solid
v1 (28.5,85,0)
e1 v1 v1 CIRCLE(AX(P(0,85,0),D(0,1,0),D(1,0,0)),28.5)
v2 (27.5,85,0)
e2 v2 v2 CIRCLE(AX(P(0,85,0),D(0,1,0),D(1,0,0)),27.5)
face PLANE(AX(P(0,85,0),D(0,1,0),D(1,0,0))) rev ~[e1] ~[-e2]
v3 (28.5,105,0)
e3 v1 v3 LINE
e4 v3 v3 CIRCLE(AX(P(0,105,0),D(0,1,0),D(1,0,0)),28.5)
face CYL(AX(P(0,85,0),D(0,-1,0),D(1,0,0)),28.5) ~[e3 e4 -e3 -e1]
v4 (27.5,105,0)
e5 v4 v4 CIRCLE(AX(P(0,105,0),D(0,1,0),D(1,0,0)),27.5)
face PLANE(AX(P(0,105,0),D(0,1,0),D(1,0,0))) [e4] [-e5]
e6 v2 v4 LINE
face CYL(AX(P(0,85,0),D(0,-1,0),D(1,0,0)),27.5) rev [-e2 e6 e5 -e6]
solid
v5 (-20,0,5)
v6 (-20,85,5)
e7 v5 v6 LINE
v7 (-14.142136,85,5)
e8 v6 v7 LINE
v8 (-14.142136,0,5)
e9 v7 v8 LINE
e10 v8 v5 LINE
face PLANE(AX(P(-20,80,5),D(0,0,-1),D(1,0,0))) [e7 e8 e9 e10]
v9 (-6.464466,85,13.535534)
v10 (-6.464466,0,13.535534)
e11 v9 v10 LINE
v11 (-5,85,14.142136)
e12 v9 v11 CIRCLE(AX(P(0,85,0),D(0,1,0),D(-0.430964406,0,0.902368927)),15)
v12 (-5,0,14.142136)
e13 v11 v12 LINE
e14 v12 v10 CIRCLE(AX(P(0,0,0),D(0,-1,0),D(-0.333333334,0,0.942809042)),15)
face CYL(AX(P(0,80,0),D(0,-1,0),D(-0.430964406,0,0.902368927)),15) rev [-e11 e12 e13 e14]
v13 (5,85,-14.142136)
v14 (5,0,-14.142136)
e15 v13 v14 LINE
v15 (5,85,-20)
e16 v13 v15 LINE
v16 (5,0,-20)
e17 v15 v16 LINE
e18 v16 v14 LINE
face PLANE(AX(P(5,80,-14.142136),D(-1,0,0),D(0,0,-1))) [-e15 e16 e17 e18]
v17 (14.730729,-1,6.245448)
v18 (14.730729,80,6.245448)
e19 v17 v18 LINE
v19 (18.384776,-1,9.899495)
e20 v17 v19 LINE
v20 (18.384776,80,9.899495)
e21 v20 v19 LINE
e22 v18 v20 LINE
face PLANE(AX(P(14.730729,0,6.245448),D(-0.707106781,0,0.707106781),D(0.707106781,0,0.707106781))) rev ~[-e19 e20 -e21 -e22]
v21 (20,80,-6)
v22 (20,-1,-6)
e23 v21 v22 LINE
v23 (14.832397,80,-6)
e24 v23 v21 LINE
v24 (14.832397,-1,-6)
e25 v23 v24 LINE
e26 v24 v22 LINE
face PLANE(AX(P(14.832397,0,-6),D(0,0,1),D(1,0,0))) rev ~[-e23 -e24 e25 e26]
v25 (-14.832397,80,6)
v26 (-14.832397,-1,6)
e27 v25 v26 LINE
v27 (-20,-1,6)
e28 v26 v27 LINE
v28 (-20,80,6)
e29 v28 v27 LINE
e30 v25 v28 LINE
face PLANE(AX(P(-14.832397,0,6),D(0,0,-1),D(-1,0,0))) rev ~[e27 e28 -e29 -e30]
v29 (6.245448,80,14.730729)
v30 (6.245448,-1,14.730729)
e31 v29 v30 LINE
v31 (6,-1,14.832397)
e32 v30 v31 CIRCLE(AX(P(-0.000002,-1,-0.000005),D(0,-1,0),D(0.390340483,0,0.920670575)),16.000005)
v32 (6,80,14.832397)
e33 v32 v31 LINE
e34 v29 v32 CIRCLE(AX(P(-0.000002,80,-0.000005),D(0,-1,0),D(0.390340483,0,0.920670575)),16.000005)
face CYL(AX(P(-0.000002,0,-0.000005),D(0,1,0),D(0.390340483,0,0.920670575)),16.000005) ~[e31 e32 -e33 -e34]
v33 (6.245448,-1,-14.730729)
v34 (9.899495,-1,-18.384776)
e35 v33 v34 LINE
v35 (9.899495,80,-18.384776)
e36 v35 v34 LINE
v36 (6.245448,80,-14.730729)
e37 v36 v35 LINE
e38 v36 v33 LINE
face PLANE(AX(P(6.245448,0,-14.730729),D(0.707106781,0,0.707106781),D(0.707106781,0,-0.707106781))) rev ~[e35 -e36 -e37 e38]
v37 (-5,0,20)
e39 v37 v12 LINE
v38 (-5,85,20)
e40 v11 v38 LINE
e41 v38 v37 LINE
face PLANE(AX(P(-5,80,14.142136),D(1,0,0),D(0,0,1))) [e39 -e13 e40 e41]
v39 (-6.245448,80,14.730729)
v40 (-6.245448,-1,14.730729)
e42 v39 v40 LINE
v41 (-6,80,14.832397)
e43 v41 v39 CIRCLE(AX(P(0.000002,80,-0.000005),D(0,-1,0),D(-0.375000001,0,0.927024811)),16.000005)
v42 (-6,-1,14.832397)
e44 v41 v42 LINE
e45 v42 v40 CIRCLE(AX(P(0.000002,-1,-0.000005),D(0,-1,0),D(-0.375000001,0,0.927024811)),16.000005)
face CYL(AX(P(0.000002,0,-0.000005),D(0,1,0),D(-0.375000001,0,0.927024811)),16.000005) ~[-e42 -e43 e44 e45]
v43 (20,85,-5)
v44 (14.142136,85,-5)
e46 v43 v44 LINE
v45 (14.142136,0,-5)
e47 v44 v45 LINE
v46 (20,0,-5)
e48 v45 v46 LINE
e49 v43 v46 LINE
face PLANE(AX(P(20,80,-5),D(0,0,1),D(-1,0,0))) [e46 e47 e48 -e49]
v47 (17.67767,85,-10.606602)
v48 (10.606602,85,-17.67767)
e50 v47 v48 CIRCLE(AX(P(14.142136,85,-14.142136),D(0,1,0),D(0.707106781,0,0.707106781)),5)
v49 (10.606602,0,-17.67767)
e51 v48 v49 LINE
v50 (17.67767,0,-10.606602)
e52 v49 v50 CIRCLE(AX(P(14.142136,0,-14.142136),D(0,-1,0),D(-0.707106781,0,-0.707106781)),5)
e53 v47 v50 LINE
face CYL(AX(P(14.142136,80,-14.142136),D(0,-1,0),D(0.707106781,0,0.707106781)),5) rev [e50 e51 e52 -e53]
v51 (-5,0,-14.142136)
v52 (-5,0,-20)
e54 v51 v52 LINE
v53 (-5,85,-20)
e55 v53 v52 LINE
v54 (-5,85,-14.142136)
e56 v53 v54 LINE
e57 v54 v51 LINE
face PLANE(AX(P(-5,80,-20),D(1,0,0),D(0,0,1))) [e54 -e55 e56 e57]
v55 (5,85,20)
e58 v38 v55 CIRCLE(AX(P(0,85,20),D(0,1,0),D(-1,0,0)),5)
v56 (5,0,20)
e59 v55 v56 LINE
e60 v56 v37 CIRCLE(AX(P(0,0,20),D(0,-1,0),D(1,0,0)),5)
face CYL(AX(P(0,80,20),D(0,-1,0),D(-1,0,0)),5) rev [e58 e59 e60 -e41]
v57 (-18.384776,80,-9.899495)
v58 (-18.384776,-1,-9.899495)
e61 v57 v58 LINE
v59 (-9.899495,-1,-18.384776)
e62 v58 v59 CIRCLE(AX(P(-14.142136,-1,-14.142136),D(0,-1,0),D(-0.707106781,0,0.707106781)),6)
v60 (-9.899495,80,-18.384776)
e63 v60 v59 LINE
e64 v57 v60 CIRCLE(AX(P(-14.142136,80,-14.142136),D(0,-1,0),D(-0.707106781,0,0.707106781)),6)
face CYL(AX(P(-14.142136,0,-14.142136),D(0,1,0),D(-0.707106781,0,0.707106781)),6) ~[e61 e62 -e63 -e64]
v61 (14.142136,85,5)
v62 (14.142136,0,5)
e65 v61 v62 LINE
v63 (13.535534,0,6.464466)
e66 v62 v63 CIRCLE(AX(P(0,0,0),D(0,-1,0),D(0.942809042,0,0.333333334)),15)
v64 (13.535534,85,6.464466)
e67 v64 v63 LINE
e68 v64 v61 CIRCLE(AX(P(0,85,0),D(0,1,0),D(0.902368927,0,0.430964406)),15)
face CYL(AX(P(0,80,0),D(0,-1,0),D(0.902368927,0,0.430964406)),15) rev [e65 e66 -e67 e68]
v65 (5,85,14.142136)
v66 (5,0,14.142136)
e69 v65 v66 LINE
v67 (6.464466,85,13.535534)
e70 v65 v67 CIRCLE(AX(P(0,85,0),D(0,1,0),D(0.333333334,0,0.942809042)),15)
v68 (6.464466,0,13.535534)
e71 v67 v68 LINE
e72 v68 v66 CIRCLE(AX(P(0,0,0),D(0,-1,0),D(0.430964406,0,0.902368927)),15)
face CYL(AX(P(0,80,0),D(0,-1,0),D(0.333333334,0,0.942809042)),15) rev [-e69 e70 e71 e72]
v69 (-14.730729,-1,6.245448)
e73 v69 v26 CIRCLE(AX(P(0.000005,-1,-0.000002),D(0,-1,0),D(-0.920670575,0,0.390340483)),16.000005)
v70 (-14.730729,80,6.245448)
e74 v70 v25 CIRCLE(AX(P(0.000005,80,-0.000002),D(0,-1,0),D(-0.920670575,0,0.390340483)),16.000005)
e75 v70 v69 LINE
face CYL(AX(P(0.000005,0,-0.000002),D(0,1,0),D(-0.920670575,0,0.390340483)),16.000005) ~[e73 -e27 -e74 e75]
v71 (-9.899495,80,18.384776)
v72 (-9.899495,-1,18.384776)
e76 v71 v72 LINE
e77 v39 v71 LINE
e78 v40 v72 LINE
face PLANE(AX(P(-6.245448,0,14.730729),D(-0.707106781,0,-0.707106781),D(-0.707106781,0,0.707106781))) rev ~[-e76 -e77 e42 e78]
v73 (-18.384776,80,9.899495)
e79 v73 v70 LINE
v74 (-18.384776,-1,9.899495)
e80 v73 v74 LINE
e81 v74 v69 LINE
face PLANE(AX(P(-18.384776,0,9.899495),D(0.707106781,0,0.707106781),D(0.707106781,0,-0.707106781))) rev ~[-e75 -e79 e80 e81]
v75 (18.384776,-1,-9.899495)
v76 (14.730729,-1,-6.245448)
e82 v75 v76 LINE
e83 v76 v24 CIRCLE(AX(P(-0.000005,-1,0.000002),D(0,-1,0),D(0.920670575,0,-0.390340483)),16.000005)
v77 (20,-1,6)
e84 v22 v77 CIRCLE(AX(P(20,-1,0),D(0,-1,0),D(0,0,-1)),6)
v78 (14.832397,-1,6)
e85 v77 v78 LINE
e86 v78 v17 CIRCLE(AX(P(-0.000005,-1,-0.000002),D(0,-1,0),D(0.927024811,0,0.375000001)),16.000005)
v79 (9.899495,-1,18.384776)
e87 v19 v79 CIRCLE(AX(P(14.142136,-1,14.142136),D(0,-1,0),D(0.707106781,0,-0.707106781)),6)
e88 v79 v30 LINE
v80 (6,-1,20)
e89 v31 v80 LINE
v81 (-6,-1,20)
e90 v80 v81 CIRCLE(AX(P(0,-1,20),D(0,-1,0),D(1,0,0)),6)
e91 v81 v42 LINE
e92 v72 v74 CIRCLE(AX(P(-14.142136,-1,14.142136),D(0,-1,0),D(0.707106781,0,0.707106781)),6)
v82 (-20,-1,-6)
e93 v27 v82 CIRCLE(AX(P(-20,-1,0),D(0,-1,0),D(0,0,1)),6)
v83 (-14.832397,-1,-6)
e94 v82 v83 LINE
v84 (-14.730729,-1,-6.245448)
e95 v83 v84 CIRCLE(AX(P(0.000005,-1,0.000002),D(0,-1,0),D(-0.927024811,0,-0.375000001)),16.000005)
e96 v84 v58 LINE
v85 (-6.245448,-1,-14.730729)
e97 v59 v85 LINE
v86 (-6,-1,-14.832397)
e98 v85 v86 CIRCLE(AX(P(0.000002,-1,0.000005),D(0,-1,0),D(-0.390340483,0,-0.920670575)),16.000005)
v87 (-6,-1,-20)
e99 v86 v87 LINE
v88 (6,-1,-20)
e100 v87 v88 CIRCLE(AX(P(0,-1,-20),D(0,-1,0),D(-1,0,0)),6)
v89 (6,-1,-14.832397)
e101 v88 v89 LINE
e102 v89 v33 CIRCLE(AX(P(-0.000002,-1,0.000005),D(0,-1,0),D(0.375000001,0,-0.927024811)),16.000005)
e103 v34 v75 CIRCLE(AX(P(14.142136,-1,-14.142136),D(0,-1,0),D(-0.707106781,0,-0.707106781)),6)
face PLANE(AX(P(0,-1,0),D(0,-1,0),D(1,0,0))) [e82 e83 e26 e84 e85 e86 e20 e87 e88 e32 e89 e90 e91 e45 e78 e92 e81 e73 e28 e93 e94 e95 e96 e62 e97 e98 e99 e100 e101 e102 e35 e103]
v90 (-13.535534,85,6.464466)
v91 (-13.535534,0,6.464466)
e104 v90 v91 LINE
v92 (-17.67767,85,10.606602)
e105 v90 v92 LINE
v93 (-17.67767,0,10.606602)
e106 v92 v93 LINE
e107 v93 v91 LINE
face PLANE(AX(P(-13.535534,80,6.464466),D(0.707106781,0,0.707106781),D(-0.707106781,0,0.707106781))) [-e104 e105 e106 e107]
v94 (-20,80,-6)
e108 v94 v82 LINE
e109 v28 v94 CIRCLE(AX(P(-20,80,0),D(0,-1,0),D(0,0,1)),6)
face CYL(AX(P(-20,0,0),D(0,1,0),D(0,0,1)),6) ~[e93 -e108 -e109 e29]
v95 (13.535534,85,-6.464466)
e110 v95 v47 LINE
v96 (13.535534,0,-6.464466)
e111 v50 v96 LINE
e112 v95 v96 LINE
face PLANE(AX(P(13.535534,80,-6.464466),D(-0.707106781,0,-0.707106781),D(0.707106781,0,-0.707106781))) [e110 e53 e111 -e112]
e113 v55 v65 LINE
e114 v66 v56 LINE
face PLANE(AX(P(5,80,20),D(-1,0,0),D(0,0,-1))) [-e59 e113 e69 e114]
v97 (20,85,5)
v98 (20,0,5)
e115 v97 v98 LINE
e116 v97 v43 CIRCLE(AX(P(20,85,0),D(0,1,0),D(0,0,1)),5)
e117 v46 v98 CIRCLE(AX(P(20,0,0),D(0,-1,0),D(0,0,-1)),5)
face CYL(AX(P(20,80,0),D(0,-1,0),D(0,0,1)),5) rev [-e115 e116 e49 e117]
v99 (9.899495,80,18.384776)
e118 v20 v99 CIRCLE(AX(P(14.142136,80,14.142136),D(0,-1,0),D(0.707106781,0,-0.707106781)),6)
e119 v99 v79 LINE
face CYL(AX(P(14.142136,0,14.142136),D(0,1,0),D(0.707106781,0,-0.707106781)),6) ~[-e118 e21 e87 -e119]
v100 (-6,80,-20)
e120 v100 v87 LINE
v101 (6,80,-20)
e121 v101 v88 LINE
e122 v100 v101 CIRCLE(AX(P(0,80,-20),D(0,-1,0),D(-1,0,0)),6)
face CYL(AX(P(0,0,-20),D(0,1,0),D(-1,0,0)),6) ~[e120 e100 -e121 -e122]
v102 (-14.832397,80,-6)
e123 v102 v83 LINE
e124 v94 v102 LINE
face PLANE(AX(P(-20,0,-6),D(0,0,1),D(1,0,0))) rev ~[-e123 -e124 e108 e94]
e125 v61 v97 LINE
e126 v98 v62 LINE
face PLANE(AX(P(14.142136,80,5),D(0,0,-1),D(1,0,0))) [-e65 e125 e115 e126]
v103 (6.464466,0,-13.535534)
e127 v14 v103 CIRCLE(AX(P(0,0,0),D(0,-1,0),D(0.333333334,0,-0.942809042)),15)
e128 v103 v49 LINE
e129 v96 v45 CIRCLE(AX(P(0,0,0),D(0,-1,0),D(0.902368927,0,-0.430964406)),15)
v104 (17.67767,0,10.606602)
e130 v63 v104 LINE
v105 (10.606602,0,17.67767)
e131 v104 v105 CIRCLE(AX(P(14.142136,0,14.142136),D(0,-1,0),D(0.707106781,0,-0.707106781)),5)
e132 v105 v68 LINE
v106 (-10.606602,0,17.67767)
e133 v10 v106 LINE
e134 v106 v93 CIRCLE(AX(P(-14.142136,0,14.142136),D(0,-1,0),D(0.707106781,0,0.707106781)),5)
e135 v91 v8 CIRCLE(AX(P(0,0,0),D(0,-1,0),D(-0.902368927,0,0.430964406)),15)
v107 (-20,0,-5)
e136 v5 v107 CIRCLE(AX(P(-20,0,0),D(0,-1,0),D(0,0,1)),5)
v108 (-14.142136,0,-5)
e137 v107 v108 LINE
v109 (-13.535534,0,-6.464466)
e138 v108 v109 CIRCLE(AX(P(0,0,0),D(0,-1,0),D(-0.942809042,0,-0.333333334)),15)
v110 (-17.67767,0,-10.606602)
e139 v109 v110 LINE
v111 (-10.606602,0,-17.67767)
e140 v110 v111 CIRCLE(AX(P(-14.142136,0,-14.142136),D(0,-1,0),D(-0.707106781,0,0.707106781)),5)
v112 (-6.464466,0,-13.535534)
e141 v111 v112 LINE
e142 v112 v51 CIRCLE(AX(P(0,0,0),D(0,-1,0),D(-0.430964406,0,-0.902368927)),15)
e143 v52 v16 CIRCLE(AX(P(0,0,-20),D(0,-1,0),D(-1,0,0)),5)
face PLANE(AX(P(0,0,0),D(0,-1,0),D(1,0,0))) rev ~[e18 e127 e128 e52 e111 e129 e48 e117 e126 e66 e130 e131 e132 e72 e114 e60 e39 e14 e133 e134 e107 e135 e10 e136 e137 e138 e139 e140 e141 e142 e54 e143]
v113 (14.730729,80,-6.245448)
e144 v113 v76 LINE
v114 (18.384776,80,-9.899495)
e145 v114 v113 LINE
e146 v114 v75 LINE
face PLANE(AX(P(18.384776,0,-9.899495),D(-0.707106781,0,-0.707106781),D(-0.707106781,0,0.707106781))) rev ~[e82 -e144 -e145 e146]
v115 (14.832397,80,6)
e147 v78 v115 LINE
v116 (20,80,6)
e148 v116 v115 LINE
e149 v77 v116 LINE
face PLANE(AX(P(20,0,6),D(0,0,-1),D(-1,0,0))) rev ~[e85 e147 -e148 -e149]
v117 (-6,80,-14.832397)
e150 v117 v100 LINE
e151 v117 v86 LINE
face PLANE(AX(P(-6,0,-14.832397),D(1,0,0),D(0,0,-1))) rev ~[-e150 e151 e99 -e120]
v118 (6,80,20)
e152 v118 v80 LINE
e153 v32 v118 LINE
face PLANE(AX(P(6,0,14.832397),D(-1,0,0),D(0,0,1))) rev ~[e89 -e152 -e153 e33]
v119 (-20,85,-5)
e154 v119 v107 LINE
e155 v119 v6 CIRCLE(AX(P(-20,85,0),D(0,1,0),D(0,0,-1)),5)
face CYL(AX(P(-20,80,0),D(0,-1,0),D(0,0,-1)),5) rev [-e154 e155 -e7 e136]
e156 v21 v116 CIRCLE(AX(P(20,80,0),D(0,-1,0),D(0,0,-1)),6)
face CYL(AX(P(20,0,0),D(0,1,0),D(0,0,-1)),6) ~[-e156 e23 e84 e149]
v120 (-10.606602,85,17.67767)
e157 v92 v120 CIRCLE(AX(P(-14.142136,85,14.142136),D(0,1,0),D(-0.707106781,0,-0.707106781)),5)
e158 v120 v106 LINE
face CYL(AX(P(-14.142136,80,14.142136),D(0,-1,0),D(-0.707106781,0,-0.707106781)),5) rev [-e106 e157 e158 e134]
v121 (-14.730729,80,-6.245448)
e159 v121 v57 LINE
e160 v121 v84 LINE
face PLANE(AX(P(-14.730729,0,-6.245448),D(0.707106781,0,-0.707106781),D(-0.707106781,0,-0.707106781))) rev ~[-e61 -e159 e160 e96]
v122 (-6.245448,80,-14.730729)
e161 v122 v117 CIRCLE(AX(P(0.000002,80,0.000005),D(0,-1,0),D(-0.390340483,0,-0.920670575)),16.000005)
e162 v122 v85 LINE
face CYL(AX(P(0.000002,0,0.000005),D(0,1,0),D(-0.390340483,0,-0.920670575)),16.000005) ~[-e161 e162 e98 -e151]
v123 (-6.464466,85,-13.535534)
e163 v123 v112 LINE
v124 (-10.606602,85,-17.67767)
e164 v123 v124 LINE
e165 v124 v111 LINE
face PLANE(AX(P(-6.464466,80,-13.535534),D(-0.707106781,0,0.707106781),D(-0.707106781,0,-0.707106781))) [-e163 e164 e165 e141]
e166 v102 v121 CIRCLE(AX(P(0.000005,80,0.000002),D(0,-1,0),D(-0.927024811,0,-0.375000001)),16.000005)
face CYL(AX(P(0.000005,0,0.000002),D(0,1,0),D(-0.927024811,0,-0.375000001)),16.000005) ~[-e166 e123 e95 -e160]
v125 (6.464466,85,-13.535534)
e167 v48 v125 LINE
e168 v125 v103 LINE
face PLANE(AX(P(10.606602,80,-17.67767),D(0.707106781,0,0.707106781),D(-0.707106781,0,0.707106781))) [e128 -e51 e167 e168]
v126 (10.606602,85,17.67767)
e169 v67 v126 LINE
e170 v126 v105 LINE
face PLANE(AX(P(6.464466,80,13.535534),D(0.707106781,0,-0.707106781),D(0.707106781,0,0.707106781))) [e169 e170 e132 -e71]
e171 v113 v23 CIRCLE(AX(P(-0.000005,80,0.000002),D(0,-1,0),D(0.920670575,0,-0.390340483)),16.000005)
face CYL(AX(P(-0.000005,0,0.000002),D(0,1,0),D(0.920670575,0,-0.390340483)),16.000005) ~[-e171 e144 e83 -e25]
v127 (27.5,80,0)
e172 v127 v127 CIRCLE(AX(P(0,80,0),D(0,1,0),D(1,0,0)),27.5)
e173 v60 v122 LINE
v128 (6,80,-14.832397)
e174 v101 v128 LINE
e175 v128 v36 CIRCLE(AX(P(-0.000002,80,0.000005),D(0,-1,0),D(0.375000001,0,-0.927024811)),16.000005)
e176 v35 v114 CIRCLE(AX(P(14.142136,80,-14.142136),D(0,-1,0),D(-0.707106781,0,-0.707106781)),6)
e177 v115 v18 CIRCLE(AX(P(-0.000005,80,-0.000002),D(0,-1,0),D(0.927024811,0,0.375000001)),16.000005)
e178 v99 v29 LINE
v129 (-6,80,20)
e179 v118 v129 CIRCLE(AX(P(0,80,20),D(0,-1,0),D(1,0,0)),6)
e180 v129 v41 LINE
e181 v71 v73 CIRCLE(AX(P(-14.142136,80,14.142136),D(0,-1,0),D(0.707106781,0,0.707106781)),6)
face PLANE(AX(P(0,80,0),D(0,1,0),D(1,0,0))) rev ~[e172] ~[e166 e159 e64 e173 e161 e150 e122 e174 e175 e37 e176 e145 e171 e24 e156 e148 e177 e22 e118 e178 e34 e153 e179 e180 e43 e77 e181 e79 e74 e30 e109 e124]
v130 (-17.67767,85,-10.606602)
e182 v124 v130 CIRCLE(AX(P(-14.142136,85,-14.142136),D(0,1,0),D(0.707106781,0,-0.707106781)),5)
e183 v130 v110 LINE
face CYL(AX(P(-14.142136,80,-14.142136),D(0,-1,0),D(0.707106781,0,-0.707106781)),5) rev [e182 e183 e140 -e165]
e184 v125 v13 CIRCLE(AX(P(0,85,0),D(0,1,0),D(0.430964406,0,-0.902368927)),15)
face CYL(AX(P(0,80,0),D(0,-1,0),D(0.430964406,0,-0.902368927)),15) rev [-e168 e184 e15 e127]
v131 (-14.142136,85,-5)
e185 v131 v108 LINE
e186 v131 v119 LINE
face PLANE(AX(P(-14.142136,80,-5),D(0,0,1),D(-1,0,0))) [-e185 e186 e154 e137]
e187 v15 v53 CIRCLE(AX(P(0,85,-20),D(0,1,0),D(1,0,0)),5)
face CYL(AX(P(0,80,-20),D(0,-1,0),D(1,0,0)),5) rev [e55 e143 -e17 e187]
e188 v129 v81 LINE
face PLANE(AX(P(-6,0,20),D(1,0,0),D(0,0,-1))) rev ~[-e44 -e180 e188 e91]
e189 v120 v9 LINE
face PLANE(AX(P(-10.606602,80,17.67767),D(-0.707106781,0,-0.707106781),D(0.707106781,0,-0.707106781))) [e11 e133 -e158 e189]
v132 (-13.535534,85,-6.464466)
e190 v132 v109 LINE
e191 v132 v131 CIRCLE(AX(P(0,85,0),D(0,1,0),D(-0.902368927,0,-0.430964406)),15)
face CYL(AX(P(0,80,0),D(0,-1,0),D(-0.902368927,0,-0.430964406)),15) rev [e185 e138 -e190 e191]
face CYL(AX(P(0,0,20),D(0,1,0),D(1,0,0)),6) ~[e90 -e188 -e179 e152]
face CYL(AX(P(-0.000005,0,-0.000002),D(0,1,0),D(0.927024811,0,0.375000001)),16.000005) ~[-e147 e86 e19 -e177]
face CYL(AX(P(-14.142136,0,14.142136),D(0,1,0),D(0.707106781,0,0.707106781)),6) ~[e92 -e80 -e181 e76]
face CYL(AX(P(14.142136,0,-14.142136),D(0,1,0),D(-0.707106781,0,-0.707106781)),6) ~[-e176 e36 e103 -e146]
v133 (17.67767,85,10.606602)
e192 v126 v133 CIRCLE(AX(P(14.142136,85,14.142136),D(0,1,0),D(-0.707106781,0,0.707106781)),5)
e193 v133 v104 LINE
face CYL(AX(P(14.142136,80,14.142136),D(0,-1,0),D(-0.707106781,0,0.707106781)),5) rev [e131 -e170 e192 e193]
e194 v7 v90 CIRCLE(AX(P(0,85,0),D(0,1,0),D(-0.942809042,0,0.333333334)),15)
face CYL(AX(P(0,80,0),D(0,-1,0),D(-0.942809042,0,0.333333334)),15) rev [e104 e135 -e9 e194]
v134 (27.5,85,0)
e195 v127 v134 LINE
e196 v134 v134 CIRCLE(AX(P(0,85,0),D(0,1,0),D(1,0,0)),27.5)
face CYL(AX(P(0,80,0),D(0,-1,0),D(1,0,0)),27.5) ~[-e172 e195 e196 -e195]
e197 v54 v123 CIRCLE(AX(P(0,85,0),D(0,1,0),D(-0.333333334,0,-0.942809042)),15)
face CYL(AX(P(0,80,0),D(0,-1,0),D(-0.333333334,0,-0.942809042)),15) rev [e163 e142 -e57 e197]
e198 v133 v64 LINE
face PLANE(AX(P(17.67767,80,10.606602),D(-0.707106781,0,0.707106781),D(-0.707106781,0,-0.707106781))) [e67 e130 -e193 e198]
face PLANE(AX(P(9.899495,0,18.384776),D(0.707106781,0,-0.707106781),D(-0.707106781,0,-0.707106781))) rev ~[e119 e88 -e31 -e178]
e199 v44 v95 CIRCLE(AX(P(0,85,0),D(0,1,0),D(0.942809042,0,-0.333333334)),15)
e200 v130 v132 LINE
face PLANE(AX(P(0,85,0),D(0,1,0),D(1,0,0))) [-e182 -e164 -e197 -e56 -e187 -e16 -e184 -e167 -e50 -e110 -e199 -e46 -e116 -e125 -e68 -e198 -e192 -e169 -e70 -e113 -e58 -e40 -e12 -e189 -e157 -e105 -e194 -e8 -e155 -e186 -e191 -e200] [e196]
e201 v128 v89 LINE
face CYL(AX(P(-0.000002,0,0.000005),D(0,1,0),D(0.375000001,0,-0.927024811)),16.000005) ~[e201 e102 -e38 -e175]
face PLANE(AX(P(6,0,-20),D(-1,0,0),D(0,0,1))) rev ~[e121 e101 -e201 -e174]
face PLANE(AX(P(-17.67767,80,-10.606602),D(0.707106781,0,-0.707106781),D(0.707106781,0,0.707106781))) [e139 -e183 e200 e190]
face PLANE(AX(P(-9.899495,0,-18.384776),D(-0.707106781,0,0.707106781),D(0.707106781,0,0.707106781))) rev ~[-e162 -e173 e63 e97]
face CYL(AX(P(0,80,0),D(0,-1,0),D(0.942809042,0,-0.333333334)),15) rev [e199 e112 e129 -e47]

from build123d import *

# Parameters (mm, degrees)
EXTRUDE_THIN1_DEPTH = 80
BOSS_EXTRUDE1_DEPTH = 1
SKETCH3_R           = 27.5
BOSS_EXTRUDE2_DEPTH = 5
SKETCH4_R           = 28.5
SKETCH4_R_2         = 27.5
EXTRUDE_THIN2_DEPTH = 20


with BuildPart() as part:
    # Sketch1 → Extrude-Thin1 (new body)
    with BuildSketch(Plane(origin=(0, 0, 0), x_dir=(1, 0, 0), z_dir=(0, 1, 0))):
        with BuildLine():
            Line((-6.245447795, -14.730729169), (-9.899494937, -18.384776311))
            ThreePointArc((-9.899494937, -18.384776311), (-18.384776311, -18.384776311), (-18.384776311, -9.899494937))
            Line((-18.384776311, -9.899494937), (-14.730729169, -6.245447795))
            ThreePointArc((-14.730729169, -6.245447795), (-14.78207252, -6.122934918), (-14.832396974, -6))
            Line((-14.832396974, -6), (-20, -6))
            ThreePointArc((-20, -6), (-26, 0), (-20, 6))
            Line((-20, 6), (-14.832396974, 6))
            ThreePointArc((-14.832396974, 6), (-14.78207252, 6.122934918), (-14.730729169, 6.245447795))
            Line((-14.730729169, 6.245447795), (-18.384776311, 9.899494937))
            ThreePointArc((-18.384776311, 9.899494937), (-18.384776311, 18.384776311), (-9.899494937, 18.384776311))
            Line((-9.899494937, 18.384776311), (-6.245447795, 14.730729169))
            ThreePointArc((-6.245447795, 14.730729169), (-6.122934918, 14.78207252), (-6, 14.832396974))
            Line((-6, 14.832396974), (-6, 20))
            ThreePointArc((-6, 20), (0, 26), (6, 20))
            Line((6, 20), (6, 14.832396974))
            ThreePointArc((6, 14.832396974), (6.122934918, 14.78207252), (6.245447795, 14.730729169))
            Line((6.245447795, 14.730729169), (9.899494937, 18.384776311))
            ThreePointArc((9.899494937, 18.384776311), (18.384776311, 18.384776311), (18.384776311, 9.899494937))
            Line((18.384776311, 9.899494937), (14.730729169, 6.245447795))
            ThreePointArc((14.730729169, 6.245447795), (14.78207252, 6.122934918), (14.832396974, 6))
            Line((14.832396974, 6), (20, 6))
            ThreePointArc((20, 6), (26, 0), (20, -6))
            Line((20, -6), (14.832396974, -6))
            ThreePointArc((14.832396974, -6), (14.78207252, -6.122934918), (14.730729169, -6.245447795))
            Line((14.730729169, -6.245447795), (18.384776311, -9.899494937))
            ThreePointArc((18.384776311, -9.899494937), (18.384776311, -18.384776311), (9.899494937, -18.384776311))
            Line((9.899494937, -18.384776311), (6.245447795, -14.730729169))
            ThreePointArc((6.245447795, -14.730729169), (6.122934918, -14.78207252), (6, -14.832396974))
            Line((6, -14.832396974), (6, -20))
            ThreePointArc((6, -20), (0, -26), (-6, -20))
            Line((-6, -20), (-6, -14.832396974))
            ThreePointArc((-6, -14.832396974), (-6.122934918, -14.78207252), (-6.245447795, -14.730729169))
        make_face()
        with BuildLine():
            Line((-6.464466094, -13.535533906), (-10.606601718, -17.67766953))
            ThreePointArc((-10.606601718, -17.67766953), (-17.67766953, -17.67766953), (-17.67766953, -10.606601718))
            Line((-17.67766953, -10.606601718), (-13.535533906, -6.464466094))
            ThreePointArc((-13.535533906, -6.464466094), (-13.858192988, -5.740251485), (-14.142135624, -5))
            Line((-14.142135624, -5), (-20, -5))
            ThreePointArc((-20, -5), (-25, 0), (-20, 5))
            Line((-20, 5), (-14.142135624, 5))
            ThreePointArc((-14.142135624, 5), (-13.858192988, 5.740251485), (-13.535533906, 6.464466094))
            Line((-13.535533906, 6.464466094), (-17.67766953, 10.606601718))
            ThreePointArc((-17.67766953, 10.606601718), (-17.67766953, 17.67766953), (-10.606601718, 17.67766953))
            Line((-10.606601718, 17.67766953), (-6.464466094, 13.535533906))
            ThreePointArc((-6.464466094, 13.535533906), (-5.740251485, 13.858192988), (-5, 14.142135624))
            Line((-5, 14.142135624), (-5, 20))
            ThreePointArc((-5, 20), (0, 25), (5, 20))
            Line((5, 20), (5, 14.142135624))
            ThreePointArc((5, 14.142135624), (5.740251485, 13.858192988), (6.464466094, 13.535533906))
            Line((6.464466094, 13.535533906), (10.606601718, 17.67766953))
            ThreePointArc((10.606601718, 17.67766953), (17.67766953, 17.67766953), (17.67766953, 10.606601718))
            Line((17.67766953, 10.606601718), (13.535533906, 6.464466094))
            ThreePointArc((13.535533906, 6.464466094), (13.858192988, 5.740251485), (14.142135624, 5))
            Line((14.142135624, 5), (20, 5))
            ThreePointArc((20, 5), (25, 0), (20, -5))
            Line((20, -5), (14.142135624, -5))
            ThreePointArc((14.142135624, -5), (13.858192988, -5.740251485), (13.535533906, -6.464466094))
            Line((13.535533906, -6.464466094), (17.67766953, -10.606601718))
            ThreePointArc((17.67766953, -10.606601718), (17.67766953, -17.67766953), (10.606601718, -17.67766953))
            Line((10.606601718, -17.67766953), (6.464466094, -13.535533906))
            ThreePointArc((6.464466094, -13.535533906), (5.740251485, -13.858192988), (5, -14.142135624))
            Line((5, -14.142135624), (5, -20))
            ThreePointArc((5, -20), (0, -25), (-5, -20))
            Line((-5, -20), (-5, -14.142135624))
            ThreePointArc((-5, -14.142135624), (-5.740251485, -13.858192988), (-6.464466094, -13.535533906))
        make_face(mode=Mode.SUBTRACT)
    extrude(amount=EXTRUDE_THIN1_DEPTH)

    # Sketch2 → Boss-Extrude1 (add)
    with BuildSketch(Plane.XZ):
        with BuildLine():
            Line((14.730729169, 6.245447795), (18.384776311, 9.899494937))
            ThreePointArc((18.384776311, 9.899494937), (18.384776311, 18.384776311), (9.899494937, 18.384776311))
            Line((9.899494937, 18.384776311), (6.245447795, 14.730729169))
            ThreePointArc((6.245447795, 14.730729169), (6.122934918, 14.78207252), (6, 14.832396974))
            Line((6, 14.832396974), (6, 20))
            ThreePointArc((6, 20), (0, 26), (-6, 20))
            Line((-6, 20), (-6, 14.832396974))
            ThreePointArc((-6, 14.832396974), (-6.122934918, 14.78207252), (-6.245447795, 14.730729169))
            Line((-6.245447795, 14.730729169), (-9.899494937, 18.384776311))
            ThreePointArc((-9.899494937, 18.384776311), (-18.384776311, 18.384776311), (-18.384776311, 9.899494937))
            Line((-18.384776311, 9.899494937), (-14.730729169, 6.245447795))
            ThreePointArc((-14.730729169, 6.245447795), (-14.78207252, 6.122934918), (-14.832396974, 6))
            Line((-14.832396974, 6), (-20, 6))
            ThreePointArc((-20, 6), (-26, 0), (-20, -6))
            Line((-20, -6), (-14.832396974, -6))
            ThreePointArc((-14.832396974, -6), (-14.78207252, -6.122934918), (-14.730729169, -6.245447795))
            Line((-14.730729169, -6.245447795), (-18.384776311, -9.899494937))
            ThreePointArc((-18.384776311, -9.899494937), (-18.384776311, -18.384776311), (-9.899494937, -18.384776311))
            Line((-9.899494937, -18.384776311), (-6.245447795, -14.730729169))
            ThreePointArc((-6.245447795, -14.730729169), (-6.122934918, -14.78207252), (-6, -14.832396974))
            Line((-6, -14.832396974), (-6, -20))
            ThreePointArc((-6, -20), (0, -26), (6, -20))
            Line((6, -20), (6, -14.832396974))
            ThreePointArc((6, -14.832396974), (6.122934918, -14.78207252), (6.245447795, -14.730729169))
            Line((6.245447795, -14.730729169), (9.899494937, -18.384776311))
            ThreePointArc((9.899494937, -18.384776311), (18.384776311, -18.384776311), (18.384776311, -9.899494937))
            Line((18.384776311, -9.899494937), (14.730729169, -6.245447795))
            ThreePointArc((14.730729169, -6.245447795), (14.78207252, -6.122934918), (14.832396974, -6))
            Line((14.832396974, -6), (20, -6))
            ThreePointArc((20, -6), (26, 0), (20, 6))
            Line((20, 6), (14.832396974, 6))
            ThreePointArc((14.832396974, 6), (14.78207252, 6.122934918), (14.730729169, 6.245447795))
        make_face()
    extrude(amount=BOSS_EXTRUDE1_DEPTH)

    # Sketch3 → Boss-Extrude2 (add)
    with BuildSketch(Plane(origin=(0, 80, 0), x_dir=(1, 0, 0), z_dir=(0, 1, 0))):
        Circle(SKETCH3_R)
        with BuildLine():
            Line((-20, -5), (-14.142135624, -5))
            ThreePointArc((-14.142135624, -5), (-13.858192988, -5.740251485), (-13.535533906, -6.464466094))
            Line((-13.535533906, -6.464466094), (-17.67766953, -10.606601718))
            ThreePointArc((-17.67766953, -10.606601718), (-17.67766953, -17.67766953), (-10.606601718, -17.67766953))
            Line((-10.606601718, -17.67766953), (-6.464466094, -13.535533906))
            ThreePointArc((-6.464466094, -13.535533906), (-5.740251485, -13.858192988), (-5, -14.142135624))
            Line((-5, -14.142135624), (-5, -20))
            ThreePointArc((-5, -20), (0, -25), (5, -20))
            Line((5, -20), (5, -14.142135624))
            ThreePointArc((5, -14.142135624), (5.740251485, -13.858192988), (6.464466094, -13.535533906))
            Line((6.464466094, -13.535533906), (10.606601718, -17.67766953))
            ThreePointArc((10.606601718, -17.67766953), (17.67766953, -17.67766953), (17.67766953, -10.606601718))
            Line((17.67766953, -10.606601718), (13.535533906, -6.464466094))
            ThreePointArc((13.535533906, -6.464466094), (13.858192988, -5.740251485), (14.142135624, -5))
            Line((14.142135624, -5), (20, -5))
            ThreePointArc((20, -5), (25, 0), (20, 5))
            Line((20, 5), (14.142135624, 5))
            ThreePointArc((14.142135624, 5), (13.858192988, 5.740251485), (13.535533906, 6.464466094))
            Line((13.535533906, 6.464466094), (17.67766953, 10.606601718))
            ThreePointArc((17.67766953, 10.606601718), (17.67766953, 17.67766953), (10.606601718, 17.67766953))
            Line((10.606601718, 17.67766953), (6.464466094, 13.535533906))
            ThreePointArc((6.464466094, 13.535533906), (5.740251485, 13.858192988), (5, 14.142135624))
            Line((5, 14.142135624), (5, 20))
            ThreePointArc((5, 20), (0, 25), (-5, 20))
            Line((-5, 20), (-5, 14.142135624))
            ThreePointArc((-5, 14.142135624), (-5.740251485, 13.858192988), (-6.464466094, 13.535533906))
            Line((-6.464466094, 13.535533906), (-10.606601718, 17.67766953))
            ThreePointArc((-10.606601718, 17.67766953), (-17.67766953, 17.67766953), (-17.67766953, 10.606601718))
            Line((-17.67766953, 10.606601718), (-13.535533906, 6.464466094))
            ThreePointArc((-13.535533906, 6.464466094), (-13.858192988, 5.740251485), (-14.142135624, 5))
            Line((-14.142135624, 5), (-20, 5))
            ThreePointArc((-20, 5), (-25, 0), (-20, -5))
        make_face(mode=Mode.SUBTRACT)
    extrude(amount=BOSS_EXTRUDE2_DEPTH)


with BuildPart() as body_2:
    # Sketch4 → Extrude-Thin2 (new body)
    with BuildSketch(Plane(origin=(0, 85, 0), x_dir=(1, 0, 0), z_dir=(0, 1, 0))):
        Circle(SKETCH4_R)
        Circle(SKETCH4_R_2, mode=Mode.SUBTRACT)
    extrude(amount=EXTRUDE_THIN2_DEPTH)


solid = Compound([part.part, body_2.part])
